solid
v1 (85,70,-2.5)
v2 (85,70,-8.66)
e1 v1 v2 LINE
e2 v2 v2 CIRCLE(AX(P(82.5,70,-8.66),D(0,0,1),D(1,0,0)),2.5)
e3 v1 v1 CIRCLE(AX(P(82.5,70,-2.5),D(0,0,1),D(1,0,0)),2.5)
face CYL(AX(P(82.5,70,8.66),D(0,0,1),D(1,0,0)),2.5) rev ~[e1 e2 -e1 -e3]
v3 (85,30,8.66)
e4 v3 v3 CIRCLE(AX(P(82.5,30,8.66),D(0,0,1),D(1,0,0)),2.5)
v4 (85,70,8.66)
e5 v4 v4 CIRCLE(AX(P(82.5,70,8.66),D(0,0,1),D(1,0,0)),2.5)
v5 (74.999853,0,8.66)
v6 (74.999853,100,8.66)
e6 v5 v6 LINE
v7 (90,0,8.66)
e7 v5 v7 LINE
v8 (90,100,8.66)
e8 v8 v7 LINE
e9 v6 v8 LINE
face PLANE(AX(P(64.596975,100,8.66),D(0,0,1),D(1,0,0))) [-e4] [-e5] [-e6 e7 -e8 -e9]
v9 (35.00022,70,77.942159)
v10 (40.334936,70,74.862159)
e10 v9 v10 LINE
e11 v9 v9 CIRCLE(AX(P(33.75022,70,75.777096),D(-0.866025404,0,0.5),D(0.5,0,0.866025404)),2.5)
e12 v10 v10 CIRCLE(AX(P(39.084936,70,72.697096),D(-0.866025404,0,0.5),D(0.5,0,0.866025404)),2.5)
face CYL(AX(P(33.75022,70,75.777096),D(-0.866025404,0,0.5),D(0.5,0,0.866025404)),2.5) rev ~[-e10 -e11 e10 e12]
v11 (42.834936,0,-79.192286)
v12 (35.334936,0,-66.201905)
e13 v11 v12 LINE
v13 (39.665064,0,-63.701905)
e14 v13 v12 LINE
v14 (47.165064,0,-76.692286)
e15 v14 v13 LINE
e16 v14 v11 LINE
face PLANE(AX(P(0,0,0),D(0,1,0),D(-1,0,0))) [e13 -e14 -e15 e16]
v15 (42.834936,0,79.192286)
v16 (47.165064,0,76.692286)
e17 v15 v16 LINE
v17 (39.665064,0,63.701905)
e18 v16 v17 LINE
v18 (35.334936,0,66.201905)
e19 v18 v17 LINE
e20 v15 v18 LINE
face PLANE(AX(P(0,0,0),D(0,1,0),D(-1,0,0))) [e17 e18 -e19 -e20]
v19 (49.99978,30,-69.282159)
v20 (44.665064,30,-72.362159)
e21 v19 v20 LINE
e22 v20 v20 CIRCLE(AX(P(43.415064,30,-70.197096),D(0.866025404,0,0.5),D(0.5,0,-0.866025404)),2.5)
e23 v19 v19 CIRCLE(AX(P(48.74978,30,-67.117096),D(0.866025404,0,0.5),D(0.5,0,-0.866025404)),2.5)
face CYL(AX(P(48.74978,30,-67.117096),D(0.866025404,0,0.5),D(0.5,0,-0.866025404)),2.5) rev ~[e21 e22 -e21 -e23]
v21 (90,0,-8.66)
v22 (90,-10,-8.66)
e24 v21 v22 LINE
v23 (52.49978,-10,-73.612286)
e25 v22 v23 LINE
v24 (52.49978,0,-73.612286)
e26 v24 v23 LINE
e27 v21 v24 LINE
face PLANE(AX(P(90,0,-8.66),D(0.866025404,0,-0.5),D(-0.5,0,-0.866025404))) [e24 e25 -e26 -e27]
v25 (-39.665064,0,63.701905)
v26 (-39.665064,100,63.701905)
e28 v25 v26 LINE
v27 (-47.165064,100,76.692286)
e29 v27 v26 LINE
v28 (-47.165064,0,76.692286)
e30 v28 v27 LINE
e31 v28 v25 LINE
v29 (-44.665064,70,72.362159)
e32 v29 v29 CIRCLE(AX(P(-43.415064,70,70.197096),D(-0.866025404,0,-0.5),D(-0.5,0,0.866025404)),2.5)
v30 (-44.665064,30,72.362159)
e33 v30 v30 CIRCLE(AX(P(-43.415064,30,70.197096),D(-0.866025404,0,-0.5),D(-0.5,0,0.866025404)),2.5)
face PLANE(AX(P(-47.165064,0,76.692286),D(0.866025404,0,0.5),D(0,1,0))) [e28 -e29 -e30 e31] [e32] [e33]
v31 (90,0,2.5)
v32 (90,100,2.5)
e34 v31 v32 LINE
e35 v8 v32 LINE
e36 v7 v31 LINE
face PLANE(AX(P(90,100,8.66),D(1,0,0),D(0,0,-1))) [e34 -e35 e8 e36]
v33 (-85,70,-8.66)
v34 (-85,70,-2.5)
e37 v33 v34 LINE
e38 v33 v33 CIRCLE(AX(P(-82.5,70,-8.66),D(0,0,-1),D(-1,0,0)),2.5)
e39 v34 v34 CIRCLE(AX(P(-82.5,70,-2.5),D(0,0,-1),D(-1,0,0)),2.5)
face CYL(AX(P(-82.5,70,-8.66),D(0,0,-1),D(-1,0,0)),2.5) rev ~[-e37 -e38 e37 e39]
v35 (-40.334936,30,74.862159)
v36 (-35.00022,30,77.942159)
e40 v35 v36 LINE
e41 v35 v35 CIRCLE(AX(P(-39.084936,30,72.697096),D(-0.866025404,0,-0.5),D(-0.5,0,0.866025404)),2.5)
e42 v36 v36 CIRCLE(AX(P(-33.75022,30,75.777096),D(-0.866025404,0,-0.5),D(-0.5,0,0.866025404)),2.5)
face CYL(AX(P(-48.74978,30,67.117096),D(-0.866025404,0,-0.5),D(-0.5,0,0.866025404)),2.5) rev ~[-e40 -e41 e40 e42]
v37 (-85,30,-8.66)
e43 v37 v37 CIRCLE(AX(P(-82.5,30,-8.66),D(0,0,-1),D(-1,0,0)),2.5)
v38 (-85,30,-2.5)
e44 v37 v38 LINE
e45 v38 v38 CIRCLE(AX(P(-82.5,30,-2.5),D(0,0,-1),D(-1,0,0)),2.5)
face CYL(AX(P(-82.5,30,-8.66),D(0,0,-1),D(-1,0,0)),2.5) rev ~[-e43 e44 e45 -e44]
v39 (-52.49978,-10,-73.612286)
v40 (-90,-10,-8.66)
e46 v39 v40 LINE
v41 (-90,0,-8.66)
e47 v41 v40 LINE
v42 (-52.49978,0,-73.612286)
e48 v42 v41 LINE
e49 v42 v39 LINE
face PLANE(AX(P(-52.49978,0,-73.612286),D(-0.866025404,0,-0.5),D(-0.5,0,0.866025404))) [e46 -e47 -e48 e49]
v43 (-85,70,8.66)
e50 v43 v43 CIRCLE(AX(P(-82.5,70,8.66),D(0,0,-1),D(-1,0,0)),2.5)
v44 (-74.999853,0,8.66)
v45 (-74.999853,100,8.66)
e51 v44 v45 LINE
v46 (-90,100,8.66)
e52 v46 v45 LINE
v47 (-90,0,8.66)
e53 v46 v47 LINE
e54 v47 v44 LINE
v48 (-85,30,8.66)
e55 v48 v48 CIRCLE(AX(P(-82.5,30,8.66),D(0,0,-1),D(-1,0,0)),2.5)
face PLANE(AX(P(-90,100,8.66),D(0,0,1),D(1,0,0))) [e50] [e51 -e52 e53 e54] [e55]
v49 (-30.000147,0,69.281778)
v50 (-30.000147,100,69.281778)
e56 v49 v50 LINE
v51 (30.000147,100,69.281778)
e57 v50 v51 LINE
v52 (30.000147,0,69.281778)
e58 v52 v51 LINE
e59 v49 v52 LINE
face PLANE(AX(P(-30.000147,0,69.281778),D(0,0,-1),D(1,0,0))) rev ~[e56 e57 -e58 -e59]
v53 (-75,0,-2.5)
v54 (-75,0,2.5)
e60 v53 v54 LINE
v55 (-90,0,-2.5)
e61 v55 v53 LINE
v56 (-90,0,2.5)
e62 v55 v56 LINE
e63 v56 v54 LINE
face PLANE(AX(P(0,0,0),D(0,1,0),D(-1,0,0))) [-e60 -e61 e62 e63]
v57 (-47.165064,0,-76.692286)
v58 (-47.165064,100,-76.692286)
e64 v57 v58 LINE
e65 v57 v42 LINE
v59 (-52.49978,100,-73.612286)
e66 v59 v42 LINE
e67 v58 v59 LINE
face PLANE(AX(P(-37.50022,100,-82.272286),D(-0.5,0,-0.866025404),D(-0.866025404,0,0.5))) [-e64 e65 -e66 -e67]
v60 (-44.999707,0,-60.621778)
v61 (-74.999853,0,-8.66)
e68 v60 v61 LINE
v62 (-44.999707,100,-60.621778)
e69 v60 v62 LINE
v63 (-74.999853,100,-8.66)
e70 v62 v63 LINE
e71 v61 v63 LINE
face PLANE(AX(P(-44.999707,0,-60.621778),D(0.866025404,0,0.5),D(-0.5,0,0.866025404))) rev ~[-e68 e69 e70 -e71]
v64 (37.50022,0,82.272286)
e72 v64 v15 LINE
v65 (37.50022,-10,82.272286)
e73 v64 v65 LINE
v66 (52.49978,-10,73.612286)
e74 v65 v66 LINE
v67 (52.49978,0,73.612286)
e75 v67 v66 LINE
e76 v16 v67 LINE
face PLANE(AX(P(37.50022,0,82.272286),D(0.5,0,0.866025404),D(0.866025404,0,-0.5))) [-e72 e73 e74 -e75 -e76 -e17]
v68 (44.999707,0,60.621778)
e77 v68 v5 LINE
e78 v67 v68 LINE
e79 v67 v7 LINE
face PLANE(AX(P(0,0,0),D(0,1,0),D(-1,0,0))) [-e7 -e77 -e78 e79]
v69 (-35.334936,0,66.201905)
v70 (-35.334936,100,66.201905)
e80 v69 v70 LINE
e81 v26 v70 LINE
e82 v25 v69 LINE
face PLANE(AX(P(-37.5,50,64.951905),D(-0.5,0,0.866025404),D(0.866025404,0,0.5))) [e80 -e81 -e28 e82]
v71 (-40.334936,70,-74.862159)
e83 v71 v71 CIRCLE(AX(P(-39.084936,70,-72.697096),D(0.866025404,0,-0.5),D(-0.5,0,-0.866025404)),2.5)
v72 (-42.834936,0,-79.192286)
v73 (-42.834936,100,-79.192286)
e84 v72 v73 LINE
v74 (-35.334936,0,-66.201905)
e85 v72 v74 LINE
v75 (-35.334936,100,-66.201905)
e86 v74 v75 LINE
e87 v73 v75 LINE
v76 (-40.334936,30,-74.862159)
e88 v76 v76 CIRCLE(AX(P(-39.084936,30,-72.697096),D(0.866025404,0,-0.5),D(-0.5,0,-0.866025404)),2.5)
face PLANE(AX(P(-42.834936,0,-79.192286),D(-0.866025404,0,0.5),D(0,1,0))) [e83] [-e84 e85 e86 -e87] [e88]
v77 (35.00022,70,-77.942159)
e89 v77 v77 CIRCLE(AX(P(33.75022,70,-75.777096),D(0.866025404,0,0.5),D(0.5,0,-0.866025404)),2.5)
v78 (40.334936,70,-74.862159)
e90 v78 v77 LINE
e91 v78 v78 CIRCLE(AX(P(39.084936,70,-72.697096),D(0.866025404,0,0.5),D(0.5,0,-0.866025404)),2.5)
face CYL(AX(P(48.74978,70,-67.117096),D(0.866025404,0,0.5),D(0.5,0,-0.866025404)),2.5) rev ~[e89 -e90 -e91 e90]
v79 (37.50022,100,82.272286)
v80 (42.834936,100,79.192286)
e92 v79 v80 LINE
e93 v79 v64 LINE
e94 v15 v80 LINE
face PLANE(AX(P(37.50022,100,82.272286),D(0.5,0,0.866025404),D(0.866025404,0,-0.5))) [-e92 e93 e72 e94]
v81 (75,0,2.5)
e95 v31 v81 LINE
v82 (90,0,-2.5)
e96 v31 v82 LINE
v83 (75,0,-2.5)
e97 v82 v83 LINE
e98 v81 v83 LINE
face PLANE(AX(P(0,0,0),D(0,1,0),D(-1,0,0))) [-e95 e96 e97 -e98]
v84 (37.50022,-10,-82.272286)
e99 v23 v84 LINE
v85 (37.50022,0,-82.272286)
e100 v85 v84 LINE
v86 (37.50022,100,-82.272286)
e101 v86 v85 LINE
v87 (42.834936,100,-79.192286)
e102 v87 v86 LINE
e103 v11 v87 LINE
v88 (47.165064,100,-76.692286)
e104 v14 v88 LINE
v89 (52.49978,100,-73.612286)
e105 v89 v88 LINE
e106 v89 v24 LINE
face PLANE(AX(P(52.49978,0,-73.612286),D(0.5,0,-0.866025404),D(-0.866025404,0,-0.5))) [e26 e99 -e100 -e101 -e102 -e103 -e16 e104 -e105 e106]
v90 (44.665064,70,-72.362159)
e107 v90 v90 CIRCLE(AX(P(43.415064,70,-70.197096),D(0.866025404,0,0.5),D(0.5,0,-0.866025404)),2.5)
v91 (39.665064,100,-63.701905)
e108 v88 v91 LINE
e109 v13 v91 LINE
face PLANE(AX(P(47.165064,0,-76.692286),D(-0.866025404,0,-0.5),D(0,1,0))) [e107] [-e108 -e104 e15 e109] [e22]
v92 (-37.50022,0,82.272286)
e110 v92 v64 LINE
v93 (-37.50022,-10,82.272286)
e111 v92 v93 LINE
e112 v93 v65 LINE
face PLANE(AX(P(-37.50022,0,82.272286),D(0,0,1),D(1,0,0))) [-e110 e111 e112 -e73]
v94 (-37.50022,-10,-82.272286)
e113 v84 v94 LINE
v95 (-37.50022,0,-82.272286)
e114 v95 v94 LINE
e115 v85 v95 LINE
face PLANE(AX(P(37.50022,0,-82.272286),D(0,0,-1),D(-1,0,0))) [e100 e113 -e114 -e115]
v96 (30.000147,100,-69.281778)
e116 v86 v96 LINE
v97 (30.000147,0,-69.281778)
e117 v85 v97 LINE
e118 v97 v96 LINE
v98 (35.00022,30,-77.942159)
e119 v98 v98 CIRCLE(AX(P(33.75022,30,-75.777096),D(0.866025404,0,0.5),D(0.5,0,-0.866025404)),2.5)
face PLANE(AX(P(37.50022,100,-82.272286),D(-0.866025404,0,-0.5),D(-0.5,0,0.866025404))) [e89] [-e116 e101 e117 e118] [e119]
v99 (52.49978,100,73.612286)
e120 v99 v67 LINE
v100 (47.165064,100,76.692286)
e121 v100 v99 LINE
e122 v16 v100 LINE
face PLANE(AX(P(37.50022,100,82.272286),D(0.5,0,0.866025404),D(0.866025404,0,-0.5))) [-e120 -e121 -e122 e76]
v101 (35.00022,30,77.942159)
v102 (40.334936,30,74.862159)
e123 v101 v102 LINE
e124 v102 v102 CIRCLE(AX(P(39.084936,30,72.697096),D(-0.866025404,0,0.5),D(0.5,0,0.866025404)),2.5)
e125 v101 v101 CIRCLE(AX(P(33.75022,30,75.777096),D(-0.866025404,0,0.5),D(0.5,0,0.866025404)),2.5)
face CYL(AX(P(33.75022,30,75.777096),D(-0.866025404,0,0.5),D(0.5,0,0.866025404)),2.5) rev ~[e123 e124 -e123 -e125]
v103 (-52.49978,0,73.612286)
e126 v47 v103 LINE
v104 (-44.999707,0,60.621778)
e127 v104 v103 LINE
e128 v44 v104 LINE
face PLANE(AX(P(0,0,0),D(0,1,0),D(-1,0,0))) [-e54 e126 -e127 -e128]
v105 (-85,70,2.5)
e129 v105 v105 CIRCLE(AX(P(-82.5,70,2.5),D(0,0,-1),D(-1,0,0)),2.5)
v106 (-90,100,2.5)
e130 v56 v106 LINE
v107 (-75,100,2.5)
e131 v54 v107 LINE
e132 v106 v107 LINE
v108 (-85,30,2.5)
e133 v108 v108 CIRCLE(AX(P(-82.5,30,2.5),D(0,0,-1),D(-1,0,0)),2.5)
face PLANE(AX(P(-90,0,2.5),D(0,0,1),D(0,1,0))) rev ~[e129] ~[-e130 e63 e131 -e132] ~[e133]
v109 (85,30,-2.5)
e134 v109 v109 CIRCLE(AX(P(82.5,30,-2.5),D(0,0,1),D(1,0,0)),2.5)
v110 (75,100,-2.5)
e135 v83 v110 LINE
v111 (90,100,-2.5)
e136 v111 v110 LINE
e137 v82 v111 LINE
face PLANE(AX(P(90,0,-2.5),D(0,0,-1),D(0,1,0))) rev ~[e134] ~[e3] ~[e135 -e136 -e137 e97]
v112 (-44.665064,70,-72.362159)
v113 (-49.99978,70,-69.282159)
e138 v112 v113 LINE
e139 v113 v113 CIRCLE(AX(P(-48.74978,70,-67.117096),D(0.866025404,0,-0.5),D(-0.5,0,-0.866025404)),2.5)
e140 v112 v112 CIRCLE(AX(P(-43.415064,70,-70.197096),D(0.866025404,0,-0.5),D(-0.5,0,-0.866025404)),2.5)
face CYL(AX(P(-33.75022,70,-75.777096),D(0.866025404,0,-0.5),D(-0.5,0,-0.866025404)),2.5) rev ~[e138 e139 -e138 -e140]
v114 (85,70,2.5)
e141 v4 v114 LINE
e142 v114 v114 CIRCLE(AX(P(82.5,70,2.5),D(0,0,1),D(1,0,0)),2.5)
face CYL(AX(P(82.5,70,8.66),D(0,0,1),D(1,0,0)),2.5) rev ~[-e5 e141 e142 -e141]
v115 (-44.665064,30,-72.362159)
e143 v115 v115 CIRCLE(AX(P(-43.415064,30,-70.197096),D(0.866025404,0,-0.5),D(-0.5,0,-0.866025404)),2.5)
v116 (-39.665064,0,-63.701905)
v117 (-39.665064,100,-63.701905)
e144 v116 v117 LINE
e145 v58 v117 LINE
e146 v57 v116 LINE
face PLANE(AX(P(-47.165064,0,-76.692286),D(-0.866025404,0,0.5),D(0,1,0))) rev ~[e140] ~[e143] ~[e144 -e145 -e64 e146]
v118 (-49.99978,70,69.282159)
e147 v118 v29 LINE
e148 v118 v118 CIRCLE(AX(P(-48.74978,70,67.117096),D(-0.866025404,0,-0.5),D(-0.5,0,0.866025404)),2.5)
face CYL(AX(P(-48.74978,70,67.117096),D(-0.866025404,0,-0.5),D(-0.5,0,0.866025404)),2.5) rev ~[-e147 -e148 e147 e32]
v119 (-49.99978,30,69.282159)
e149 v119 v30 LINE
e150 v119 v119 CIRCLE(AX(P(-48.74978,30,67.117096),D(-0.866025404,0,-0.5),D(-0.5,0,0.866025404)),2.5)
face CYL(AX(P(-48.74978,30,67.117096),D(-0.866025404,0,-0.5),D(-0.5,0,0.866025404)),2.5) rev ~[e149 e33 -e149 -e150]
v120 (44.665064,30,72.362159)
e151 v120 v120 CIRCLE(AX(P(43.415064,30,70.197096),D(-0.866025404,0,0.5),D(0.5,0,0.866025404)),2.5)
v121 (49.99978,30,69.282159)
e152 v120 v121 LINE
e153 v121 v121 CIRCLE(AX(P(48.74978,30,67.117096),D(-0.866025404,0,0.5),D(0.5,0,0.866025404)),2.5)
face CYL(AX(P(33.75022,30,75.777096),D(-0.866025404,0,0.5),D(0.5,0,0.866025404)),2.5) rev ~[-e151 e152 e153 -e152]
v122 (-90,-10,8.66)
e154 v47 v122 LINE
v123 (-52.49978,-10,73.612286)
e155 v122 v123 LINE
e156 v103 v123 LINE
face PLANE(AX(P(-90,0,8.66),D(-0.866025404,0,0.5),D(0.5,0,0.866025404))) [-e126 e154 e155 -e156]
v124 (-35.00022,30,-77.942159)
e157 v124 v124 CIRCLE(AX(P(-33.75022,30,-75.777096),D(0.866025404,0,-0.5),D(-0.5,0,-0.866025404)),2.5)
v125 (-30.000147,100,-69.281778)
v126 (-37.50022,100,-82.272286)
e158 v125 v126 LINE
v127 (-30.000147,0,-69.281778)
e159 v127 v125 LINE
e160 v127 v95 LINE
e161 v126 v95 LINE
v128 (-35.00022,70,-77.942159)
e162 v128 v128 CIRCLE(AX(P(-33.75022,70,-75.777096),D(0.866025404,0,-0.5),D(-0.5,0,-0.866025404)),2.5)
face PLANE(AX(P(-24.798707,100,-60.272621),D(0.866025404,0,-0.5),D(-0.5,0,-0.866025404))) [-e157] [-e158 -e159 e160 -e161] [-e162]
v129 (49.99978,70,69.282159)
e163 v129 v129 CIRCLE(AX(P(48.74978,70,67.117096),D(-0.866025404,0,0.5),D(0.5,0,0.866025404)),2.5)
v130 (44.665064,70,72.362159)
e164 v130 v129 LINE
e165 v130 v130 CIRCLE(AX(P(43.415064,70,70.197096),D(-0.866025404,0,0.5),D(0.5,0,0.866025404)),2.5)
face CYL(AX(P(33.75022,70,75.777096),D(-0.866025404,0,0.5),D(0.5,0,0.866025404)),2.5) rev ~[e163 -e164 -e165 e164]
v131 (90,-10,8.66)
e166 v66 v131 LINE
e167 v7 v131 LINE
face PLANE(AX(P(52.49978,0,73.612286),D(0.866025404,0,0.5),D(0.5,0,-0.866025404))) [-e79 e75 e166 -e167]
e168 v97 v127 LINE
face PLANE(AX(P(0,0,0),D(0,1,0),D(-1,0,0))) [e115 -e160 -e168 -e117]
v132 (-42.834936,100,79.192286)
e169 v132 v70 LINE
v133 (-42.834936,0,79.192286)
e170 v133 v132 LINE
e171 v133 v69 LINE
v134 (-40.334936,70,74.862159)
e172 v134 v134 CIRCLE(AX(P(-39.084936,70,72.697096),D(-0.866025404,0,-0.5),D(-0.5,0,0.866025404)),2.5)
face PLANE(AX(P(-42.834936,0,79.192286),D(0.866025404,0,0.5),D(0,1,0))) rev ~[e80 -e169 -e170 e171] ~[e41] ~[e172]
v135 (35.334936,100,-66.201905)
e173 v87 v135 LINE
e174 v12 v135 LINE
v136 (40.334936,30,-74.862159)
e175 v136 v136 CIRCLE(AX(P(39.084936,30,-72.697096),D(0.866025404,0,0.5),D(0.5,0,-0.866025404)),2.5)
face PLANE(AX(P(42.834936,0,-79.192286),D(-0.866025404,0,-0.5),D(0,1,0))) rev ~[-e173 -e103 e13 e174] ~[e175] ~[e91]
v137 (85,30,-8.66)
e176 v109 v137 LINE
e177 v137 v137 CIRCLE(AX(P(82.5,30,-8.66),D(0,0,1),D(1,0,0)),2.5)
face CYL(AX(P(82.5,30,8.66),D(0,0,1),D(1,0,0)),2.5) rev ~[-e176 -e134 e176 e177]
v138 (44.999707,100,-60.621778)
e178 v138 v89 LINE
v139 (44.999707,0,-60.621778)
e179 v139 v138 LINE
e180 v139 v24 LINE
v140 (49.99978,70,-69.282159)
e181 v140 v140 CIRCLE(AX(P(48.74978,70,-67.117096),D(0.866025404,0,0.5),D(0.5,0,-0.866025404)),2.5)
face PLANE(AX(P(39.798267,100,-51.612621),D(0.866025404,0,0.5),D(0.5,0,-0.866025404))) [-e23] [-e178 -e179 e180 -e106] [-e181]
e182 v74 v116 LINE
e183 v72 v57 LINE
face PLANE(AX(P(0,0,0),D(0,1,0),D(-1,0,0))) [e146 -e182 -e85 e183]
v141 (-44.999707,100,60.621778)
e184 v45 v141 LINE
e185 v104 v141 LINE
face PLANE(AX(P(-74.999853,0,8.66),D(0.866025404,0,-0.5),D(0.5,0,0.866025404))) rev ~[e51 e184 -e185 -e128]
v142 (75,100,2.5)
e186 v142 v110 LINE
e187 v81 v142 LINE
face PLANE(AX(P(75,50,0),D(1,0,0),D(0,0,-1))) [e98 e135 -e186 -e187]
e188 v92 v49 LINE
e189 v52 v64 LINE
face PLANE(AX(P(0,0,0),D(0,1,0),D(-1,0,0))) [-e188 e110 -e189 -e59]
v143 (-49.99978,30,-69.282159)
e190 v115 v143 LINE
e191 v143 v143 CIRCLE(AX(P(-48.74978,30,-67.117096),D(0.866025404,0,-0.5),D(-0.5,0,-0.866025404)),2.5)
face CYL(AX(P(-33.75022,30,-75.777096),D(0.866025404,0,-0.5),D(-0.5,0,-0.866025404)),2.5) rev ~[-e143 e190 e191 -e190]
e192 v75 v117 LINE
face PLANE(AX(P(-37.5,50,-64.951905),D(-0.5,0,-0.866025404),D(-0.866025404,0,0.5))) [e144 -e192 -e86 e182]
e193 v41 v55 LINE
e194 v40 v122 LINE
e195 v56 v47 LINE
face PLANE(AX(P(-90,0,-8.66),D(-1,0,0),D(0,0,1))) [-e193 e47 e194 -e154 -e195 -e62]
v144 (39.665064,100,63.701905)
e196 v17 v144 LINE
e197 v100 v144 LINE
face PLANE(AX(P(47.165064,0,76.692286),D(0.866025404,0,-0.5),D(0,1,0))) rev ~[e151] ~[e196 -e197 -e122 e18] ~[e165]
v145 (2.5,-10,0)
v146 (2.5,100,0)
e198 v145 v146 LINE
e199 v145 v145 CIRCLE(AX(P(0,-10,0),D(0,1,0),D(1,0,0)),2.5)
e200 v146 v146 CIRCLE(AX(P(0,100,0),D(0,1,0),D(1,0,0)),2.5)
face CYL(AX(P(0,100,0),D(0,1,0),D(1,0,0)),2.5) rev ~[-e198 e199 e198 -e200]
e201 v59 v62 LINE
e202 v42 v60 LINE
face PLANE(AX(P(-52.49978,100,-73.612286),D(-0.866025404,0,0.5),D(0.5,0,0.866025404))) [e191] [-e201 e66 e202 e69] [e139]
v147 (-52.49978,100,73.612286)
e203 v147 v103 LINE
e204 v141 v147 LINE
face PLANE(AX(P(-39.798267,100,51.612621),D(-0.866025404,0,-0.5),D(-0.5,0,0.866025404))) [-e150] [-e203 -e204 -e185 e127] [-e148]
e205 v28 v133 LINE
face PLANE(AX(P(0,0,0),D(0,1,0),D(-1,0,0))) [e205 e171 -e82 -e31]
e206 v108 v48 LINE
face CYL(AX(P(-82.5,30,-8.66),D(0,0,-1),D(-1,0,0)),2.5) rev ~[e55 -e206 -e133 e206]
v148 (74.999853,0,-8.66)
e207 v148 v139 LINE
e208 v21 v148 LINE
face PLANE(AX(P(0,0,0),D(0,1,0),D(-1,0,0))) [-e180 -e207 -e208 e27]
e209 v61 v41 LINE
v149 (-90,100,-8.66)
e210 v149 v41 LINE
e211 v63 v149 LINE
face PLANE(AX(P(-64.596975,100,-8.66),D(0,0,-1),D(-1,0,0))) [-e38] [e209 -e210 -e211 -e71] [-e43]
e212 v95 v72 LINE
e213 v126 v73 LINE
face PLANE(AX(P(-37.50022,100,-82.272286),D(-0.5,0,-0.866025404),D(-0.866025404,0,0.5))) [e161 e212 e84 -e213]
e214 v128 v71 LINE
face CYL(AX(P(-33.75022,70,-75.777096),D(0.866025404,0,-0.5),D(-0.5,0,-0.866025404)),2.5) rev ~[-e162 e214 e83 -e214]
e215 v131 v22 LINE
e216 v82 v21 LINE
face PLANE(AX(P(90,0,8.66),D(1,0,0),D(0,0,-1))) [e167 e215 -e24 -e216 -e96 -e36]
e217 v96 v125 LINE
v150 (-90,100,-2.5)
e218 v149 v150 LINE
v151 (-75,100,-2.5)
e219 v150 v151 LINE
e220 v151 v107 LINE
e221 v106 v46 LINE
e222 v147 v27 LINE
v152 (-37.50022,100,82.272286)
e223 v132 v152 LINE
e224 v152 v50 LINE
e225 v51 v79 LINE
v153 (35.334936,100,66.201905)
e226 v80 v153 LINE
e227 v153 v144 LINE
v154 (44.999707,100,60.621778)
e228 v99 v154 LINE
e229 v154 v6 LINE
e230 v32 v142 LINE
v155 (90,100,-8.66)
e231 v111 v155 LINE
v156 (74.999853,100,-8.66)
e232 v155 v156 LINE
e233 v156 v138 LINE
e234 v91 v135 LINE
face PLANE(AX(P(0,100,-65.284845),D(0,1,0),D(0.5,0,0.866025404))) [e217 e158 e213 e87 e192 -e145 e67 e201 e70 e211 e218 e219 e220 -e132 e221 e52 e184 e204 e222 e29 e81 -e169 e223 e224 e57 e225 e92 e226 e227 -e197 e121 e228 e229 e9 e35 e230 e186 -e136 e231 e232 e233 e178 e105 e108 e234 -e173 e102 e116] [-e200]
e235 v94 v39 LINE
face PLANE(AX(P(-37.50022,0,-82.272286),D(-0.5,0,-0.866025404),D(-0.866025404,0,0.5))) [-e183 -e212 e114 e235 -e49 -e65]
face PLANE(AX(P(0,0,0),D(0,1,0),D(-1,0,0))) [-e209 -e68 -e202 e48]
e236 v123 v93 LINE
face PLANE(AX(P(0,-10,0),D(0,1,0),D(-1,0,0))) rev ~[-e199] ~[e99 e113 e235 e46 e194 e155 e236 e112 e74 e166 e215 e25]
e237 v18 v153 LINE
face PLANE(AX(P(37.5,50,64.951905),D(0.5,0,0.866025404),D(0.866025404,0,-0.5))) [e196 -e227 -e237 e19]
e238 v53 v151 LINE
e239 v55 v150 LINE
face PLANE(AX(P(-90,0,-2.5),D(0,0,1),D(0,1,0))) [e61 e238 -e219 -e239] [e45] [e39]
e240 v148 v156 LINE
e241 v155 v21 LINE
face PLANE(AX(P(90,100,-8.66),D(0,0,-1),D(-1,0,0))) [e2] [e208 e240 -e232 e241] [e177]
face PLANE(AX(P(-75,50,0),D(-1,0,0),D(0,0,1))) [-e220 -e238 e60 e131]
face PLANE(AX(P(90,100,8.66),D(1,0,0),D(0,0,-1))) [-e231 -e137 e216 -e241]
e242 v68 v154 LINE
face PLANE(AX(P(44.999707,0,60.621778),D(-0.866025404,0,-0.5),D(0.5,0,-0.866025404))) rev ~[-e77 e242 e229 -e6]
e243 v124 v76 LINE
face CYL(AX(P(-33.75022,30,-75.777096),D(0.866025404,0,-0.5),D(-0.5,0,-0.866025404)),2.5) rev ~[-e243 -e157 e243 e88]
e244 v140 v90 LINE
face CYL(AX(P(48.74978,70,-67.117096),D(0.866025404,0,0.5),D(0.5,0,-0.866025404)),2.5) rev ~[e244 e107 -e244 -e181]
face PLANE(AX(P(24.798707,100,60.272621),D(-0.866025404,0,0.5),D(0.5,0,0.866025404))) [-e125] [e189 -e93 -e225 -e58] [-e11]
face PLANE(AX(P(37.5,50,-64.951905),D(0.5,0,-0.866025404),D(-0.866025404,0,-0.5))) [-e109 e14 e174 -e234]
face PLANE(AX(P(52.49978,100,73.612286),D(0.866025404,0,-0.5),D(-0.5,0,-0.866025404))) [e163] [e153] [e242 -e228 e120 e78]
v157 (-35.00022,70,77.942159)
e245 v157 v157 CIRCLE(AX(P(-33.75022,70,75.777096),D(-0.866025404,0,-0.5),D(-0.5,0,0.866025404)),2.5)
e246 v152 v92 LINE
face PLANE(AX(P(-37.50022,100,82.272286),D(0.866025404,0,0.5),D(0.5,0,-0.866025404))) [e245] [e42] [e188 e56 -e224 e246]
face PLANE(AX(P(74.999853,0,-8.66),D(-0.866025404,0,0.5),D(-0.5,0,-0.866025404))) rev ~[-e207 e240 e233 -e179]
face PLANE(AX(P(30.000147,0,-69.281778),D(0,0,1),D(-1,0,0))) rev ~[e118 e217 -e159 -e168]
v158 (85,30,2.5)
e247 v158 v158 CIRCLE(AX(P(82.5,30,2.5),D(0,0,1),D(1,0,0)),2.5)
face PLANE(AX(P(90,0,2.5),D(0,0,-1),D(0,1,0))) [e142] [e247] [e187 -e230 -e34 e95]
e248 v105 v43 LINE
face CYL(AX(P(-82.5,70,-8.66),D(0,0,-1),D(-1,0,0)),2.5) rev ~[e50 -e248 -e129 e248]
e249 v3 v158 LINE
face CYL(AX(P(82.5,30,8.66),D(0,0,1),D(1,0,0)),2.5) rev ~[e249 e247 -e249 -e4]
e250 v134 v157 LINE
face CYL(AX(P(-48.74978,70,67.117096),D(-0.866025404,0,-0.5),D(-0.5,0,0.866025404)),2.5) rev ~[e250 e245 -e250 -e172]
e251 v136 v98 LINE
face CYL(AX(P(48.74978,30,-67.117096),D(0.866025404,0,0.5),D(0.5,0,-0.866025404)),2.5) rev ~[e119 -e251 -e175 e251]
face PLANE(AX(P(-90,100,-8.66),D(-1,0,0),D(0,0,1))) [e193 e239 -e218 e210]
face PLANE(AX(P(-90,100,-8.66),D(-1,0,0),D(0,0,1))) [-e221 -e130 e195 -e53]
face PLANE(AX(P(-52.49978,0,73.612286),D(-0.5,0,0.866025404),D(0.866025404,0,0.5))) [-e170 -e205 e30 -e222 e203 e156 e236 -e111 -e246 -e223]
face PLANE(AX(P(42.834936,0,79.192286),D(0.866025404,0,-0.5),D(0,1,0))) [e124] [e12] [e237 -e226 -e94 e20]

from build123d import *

# Parameters (mm, degrees)
BOSS_EXTRUDE1_DEPTH = 100
BOSS_EXTRUDE2_DEPTH = 100
CIRPATTERN1_COUNT   = 6
SKETCH3_W           = 5
SKETCH3_H           = 100
CUT_EXTRUDE1_DEPTH  = 15
CIRPATTERN2_COUNT   = 6
BOSS_EXTRUDE3_DEPTH = 10
SKETCH5_R           = 2.5
CUT_EXTRUDE2_DEPTH  = 200
SKETCH6_R           = 2.5
CUT_EXTRUDE3_DEPTH  = 163.384361005
CIRPATTERN3_COUNT   = 6
BOSS_EXTRUDE4_DEPTH = 100
CIRPATTERN4_COUNT   = 6
BOSS_EXTRUDE5_DEPTH = 10
SKETCH9_R           = 2.5
CUT_EXTRUDE4_DEPTH  = 165.221585365


with BuildPart() as part:
    # Sketch1 → Boss-Extrude1 (new body)
    with BuildSketch(Plane(origin=(0, 0, 0), x_dir=(1, 0, 0), z_dir=(0, 1, 0))):
        Polygon((70, 0), (35, 60.621778265), (-35, 60.621778265), (-70, 0), (-35, -60.621778265), (35, -60.621778265), align=None)
    extrude(amount=BOSS_EXTRUDE1_DEPTH)

    # Sketch2 → Boss-Extrude2 (add)
    with BuildSketch(Plane(origin=(0, 100, 0), x_dir=(1, 0, 0), z_dir=(0, 1, 0))):
        Polygon((52.499779997, 73.612286341), (37.500220003, 82.272286341), (24.798707265, 60.272620945), (39.798267258, 51.612620945), align=None)
    boss_extrude2 = extrude(amount=-BOSS_EXTRUDE2_DEPTH)

    # CirPattern1: Boss-Extrude2 ×6 about axis
    cirpattern1_axis = Axis((0, -5, 0), (0, 1, 0))
    for i in range(1, CIRPATTERN1_COUNT):
        add(boss_extrude2.rotate(cirpattern1_axis, i * 360 / CIRPATTERN1_COUNT))

    # Sketch3 → Cut-Extrude1 (cut)
    with BuildSketch(Plane(origin=(90, 0, 0), x_dir=(0, 0, -1), z_dir=(1, 0, 0))):
        with Locations((0, 50)):
            Rectangle(SKETCH3_W, SKETCH3_H)
    cut_extrude1 = extrude(amount=-CUT_EXTRUDE1_DEPTH, mode=Mode.SUBTRACT)

    # CirPattern2: Cut-Extrude1 ×6 about axis
    cirpattern2_axis = Axis((0, -5, 0), (0, 1, 0))
    for i in range(1, CIRPATTERN2_COUNT):
        add(cut_extrude1.rotate(cirpattern2_axis, i * 360 / CIRPATTERN2_COUNT), mode=Mode.SUBTRACT)

    # Sketch4 → Boss-Extrude3 (add)
    with BuildSketch(Plane.XZ):
        Polygon((-52.499779997, 73.612286341), (-37.500220003, 82.272286341), (37.500220003, 82.272286341), (52.499779997, 73.612286341), (90, 8.66), (90, -8.66), (52.499779997, -73.612286341), (37.500220003, -82.272286341), (-37.500220003, -82.272286341), (-52.499779997, -73.612286341), (-90, -8.66), (-90, 8.66), align=None)
        Polygon((50, 0), (25, 43.301270189), (-25, 43.301270189), (-50, 0), (-25, -43.301270189), (25, -43.301270189), align=None, mode=Mode.SUBTRACT)
    extrude(amount=BOSS_EXTRUDE3_DEPTH)

    # Sketch5 → Cut-Extrude2 (cut)
    with BuildSketch(Plane(origin=(0, 100, 0), x_dir=(1, 0, 0), z_dir=(0, 1, 0))):
        Circle(SKETCH5_R)
    extrude(amount=-CUT_EXTRUDE2_DEPTH, mode=Mode.SUBTRACT)

    # Sketch6 → Cut-Extrude3 (cut, through all)
    with BuildSketch(Plane.XY.offset(8.66)):
        with Locations((82.5, 70)):
            Circle(SKETCH6_R)
        with Locations((82.5, 30)):
            Circle(SKETCH6_R)
    cut_extrude3 = extrude(amount=-CUT_EXTRUDE3_DEPTH, mode=Mode.SUBTRACT)

    # CirPattern3: Cut-Extrude3 ×6 about axis
    cirpattern3_axis = Axis((0, -5, 0), (0, 1, 0))
    for i in range(1, CIRPATTERN3_COUNT):
        add(cut_extrude3.rotate(cirpattern3_axis, i * 360 / CIRPATTERN3_COUNT), mode=Mode.SUBTRACT)

    # Sketch7 → Boss-Extrude4 (add)
    with BuildSketch(Plane(origin=(0, 0, 0), x_dir=(1, 0, 0), z_dir=(0, 1, 0))):
        Polygon((-65.000146669, 8.66), (-39.999853331, 51.961778265), (-44.999706662, 60.621778265), (-74.999853331, 8.66), align=None)
    boss_extrude4 = extrude(amount=BOSS_EXTRUDE4_DEPTH)

    # CirPattern4: Boss-Extrude4 ×6 about axis
    cirpattern4_axis = Axis((0, -5, 0), (0, 1, 0))
    for i in range(1, CIRPATTERN4_COUNT):
        add(boss_extrude4.rotate(cirpattern4_axis, i * 360 / CIRPATTERN4_COUNT))

    # Sketch8 → Boss-Extrude5 (add)
    with BuildSketch(Plane.XZ):
        Polygon((50, 0), (25, 43.301270189), (-25, 43.301270189), (-50, 0), (-25, -43.301270189), (25, -43.301270189), align=None)
    extrude(amount=BOSS_EXTRUDE5_DEPTH)

    # Sketch9 → Cut-Extrude4 (cut, through all)
    with BuildSketch(Plane(origin=(0, 100, 0), x_dir=(1, 0, 0), z_dir=(0, 1, 0))):
        Circle(SKETCH9_R)
    extrude(amount=-CUT_EXTRUDE4_DEPTH, mode=Mode.SUBTRACT)


solid = part.part
